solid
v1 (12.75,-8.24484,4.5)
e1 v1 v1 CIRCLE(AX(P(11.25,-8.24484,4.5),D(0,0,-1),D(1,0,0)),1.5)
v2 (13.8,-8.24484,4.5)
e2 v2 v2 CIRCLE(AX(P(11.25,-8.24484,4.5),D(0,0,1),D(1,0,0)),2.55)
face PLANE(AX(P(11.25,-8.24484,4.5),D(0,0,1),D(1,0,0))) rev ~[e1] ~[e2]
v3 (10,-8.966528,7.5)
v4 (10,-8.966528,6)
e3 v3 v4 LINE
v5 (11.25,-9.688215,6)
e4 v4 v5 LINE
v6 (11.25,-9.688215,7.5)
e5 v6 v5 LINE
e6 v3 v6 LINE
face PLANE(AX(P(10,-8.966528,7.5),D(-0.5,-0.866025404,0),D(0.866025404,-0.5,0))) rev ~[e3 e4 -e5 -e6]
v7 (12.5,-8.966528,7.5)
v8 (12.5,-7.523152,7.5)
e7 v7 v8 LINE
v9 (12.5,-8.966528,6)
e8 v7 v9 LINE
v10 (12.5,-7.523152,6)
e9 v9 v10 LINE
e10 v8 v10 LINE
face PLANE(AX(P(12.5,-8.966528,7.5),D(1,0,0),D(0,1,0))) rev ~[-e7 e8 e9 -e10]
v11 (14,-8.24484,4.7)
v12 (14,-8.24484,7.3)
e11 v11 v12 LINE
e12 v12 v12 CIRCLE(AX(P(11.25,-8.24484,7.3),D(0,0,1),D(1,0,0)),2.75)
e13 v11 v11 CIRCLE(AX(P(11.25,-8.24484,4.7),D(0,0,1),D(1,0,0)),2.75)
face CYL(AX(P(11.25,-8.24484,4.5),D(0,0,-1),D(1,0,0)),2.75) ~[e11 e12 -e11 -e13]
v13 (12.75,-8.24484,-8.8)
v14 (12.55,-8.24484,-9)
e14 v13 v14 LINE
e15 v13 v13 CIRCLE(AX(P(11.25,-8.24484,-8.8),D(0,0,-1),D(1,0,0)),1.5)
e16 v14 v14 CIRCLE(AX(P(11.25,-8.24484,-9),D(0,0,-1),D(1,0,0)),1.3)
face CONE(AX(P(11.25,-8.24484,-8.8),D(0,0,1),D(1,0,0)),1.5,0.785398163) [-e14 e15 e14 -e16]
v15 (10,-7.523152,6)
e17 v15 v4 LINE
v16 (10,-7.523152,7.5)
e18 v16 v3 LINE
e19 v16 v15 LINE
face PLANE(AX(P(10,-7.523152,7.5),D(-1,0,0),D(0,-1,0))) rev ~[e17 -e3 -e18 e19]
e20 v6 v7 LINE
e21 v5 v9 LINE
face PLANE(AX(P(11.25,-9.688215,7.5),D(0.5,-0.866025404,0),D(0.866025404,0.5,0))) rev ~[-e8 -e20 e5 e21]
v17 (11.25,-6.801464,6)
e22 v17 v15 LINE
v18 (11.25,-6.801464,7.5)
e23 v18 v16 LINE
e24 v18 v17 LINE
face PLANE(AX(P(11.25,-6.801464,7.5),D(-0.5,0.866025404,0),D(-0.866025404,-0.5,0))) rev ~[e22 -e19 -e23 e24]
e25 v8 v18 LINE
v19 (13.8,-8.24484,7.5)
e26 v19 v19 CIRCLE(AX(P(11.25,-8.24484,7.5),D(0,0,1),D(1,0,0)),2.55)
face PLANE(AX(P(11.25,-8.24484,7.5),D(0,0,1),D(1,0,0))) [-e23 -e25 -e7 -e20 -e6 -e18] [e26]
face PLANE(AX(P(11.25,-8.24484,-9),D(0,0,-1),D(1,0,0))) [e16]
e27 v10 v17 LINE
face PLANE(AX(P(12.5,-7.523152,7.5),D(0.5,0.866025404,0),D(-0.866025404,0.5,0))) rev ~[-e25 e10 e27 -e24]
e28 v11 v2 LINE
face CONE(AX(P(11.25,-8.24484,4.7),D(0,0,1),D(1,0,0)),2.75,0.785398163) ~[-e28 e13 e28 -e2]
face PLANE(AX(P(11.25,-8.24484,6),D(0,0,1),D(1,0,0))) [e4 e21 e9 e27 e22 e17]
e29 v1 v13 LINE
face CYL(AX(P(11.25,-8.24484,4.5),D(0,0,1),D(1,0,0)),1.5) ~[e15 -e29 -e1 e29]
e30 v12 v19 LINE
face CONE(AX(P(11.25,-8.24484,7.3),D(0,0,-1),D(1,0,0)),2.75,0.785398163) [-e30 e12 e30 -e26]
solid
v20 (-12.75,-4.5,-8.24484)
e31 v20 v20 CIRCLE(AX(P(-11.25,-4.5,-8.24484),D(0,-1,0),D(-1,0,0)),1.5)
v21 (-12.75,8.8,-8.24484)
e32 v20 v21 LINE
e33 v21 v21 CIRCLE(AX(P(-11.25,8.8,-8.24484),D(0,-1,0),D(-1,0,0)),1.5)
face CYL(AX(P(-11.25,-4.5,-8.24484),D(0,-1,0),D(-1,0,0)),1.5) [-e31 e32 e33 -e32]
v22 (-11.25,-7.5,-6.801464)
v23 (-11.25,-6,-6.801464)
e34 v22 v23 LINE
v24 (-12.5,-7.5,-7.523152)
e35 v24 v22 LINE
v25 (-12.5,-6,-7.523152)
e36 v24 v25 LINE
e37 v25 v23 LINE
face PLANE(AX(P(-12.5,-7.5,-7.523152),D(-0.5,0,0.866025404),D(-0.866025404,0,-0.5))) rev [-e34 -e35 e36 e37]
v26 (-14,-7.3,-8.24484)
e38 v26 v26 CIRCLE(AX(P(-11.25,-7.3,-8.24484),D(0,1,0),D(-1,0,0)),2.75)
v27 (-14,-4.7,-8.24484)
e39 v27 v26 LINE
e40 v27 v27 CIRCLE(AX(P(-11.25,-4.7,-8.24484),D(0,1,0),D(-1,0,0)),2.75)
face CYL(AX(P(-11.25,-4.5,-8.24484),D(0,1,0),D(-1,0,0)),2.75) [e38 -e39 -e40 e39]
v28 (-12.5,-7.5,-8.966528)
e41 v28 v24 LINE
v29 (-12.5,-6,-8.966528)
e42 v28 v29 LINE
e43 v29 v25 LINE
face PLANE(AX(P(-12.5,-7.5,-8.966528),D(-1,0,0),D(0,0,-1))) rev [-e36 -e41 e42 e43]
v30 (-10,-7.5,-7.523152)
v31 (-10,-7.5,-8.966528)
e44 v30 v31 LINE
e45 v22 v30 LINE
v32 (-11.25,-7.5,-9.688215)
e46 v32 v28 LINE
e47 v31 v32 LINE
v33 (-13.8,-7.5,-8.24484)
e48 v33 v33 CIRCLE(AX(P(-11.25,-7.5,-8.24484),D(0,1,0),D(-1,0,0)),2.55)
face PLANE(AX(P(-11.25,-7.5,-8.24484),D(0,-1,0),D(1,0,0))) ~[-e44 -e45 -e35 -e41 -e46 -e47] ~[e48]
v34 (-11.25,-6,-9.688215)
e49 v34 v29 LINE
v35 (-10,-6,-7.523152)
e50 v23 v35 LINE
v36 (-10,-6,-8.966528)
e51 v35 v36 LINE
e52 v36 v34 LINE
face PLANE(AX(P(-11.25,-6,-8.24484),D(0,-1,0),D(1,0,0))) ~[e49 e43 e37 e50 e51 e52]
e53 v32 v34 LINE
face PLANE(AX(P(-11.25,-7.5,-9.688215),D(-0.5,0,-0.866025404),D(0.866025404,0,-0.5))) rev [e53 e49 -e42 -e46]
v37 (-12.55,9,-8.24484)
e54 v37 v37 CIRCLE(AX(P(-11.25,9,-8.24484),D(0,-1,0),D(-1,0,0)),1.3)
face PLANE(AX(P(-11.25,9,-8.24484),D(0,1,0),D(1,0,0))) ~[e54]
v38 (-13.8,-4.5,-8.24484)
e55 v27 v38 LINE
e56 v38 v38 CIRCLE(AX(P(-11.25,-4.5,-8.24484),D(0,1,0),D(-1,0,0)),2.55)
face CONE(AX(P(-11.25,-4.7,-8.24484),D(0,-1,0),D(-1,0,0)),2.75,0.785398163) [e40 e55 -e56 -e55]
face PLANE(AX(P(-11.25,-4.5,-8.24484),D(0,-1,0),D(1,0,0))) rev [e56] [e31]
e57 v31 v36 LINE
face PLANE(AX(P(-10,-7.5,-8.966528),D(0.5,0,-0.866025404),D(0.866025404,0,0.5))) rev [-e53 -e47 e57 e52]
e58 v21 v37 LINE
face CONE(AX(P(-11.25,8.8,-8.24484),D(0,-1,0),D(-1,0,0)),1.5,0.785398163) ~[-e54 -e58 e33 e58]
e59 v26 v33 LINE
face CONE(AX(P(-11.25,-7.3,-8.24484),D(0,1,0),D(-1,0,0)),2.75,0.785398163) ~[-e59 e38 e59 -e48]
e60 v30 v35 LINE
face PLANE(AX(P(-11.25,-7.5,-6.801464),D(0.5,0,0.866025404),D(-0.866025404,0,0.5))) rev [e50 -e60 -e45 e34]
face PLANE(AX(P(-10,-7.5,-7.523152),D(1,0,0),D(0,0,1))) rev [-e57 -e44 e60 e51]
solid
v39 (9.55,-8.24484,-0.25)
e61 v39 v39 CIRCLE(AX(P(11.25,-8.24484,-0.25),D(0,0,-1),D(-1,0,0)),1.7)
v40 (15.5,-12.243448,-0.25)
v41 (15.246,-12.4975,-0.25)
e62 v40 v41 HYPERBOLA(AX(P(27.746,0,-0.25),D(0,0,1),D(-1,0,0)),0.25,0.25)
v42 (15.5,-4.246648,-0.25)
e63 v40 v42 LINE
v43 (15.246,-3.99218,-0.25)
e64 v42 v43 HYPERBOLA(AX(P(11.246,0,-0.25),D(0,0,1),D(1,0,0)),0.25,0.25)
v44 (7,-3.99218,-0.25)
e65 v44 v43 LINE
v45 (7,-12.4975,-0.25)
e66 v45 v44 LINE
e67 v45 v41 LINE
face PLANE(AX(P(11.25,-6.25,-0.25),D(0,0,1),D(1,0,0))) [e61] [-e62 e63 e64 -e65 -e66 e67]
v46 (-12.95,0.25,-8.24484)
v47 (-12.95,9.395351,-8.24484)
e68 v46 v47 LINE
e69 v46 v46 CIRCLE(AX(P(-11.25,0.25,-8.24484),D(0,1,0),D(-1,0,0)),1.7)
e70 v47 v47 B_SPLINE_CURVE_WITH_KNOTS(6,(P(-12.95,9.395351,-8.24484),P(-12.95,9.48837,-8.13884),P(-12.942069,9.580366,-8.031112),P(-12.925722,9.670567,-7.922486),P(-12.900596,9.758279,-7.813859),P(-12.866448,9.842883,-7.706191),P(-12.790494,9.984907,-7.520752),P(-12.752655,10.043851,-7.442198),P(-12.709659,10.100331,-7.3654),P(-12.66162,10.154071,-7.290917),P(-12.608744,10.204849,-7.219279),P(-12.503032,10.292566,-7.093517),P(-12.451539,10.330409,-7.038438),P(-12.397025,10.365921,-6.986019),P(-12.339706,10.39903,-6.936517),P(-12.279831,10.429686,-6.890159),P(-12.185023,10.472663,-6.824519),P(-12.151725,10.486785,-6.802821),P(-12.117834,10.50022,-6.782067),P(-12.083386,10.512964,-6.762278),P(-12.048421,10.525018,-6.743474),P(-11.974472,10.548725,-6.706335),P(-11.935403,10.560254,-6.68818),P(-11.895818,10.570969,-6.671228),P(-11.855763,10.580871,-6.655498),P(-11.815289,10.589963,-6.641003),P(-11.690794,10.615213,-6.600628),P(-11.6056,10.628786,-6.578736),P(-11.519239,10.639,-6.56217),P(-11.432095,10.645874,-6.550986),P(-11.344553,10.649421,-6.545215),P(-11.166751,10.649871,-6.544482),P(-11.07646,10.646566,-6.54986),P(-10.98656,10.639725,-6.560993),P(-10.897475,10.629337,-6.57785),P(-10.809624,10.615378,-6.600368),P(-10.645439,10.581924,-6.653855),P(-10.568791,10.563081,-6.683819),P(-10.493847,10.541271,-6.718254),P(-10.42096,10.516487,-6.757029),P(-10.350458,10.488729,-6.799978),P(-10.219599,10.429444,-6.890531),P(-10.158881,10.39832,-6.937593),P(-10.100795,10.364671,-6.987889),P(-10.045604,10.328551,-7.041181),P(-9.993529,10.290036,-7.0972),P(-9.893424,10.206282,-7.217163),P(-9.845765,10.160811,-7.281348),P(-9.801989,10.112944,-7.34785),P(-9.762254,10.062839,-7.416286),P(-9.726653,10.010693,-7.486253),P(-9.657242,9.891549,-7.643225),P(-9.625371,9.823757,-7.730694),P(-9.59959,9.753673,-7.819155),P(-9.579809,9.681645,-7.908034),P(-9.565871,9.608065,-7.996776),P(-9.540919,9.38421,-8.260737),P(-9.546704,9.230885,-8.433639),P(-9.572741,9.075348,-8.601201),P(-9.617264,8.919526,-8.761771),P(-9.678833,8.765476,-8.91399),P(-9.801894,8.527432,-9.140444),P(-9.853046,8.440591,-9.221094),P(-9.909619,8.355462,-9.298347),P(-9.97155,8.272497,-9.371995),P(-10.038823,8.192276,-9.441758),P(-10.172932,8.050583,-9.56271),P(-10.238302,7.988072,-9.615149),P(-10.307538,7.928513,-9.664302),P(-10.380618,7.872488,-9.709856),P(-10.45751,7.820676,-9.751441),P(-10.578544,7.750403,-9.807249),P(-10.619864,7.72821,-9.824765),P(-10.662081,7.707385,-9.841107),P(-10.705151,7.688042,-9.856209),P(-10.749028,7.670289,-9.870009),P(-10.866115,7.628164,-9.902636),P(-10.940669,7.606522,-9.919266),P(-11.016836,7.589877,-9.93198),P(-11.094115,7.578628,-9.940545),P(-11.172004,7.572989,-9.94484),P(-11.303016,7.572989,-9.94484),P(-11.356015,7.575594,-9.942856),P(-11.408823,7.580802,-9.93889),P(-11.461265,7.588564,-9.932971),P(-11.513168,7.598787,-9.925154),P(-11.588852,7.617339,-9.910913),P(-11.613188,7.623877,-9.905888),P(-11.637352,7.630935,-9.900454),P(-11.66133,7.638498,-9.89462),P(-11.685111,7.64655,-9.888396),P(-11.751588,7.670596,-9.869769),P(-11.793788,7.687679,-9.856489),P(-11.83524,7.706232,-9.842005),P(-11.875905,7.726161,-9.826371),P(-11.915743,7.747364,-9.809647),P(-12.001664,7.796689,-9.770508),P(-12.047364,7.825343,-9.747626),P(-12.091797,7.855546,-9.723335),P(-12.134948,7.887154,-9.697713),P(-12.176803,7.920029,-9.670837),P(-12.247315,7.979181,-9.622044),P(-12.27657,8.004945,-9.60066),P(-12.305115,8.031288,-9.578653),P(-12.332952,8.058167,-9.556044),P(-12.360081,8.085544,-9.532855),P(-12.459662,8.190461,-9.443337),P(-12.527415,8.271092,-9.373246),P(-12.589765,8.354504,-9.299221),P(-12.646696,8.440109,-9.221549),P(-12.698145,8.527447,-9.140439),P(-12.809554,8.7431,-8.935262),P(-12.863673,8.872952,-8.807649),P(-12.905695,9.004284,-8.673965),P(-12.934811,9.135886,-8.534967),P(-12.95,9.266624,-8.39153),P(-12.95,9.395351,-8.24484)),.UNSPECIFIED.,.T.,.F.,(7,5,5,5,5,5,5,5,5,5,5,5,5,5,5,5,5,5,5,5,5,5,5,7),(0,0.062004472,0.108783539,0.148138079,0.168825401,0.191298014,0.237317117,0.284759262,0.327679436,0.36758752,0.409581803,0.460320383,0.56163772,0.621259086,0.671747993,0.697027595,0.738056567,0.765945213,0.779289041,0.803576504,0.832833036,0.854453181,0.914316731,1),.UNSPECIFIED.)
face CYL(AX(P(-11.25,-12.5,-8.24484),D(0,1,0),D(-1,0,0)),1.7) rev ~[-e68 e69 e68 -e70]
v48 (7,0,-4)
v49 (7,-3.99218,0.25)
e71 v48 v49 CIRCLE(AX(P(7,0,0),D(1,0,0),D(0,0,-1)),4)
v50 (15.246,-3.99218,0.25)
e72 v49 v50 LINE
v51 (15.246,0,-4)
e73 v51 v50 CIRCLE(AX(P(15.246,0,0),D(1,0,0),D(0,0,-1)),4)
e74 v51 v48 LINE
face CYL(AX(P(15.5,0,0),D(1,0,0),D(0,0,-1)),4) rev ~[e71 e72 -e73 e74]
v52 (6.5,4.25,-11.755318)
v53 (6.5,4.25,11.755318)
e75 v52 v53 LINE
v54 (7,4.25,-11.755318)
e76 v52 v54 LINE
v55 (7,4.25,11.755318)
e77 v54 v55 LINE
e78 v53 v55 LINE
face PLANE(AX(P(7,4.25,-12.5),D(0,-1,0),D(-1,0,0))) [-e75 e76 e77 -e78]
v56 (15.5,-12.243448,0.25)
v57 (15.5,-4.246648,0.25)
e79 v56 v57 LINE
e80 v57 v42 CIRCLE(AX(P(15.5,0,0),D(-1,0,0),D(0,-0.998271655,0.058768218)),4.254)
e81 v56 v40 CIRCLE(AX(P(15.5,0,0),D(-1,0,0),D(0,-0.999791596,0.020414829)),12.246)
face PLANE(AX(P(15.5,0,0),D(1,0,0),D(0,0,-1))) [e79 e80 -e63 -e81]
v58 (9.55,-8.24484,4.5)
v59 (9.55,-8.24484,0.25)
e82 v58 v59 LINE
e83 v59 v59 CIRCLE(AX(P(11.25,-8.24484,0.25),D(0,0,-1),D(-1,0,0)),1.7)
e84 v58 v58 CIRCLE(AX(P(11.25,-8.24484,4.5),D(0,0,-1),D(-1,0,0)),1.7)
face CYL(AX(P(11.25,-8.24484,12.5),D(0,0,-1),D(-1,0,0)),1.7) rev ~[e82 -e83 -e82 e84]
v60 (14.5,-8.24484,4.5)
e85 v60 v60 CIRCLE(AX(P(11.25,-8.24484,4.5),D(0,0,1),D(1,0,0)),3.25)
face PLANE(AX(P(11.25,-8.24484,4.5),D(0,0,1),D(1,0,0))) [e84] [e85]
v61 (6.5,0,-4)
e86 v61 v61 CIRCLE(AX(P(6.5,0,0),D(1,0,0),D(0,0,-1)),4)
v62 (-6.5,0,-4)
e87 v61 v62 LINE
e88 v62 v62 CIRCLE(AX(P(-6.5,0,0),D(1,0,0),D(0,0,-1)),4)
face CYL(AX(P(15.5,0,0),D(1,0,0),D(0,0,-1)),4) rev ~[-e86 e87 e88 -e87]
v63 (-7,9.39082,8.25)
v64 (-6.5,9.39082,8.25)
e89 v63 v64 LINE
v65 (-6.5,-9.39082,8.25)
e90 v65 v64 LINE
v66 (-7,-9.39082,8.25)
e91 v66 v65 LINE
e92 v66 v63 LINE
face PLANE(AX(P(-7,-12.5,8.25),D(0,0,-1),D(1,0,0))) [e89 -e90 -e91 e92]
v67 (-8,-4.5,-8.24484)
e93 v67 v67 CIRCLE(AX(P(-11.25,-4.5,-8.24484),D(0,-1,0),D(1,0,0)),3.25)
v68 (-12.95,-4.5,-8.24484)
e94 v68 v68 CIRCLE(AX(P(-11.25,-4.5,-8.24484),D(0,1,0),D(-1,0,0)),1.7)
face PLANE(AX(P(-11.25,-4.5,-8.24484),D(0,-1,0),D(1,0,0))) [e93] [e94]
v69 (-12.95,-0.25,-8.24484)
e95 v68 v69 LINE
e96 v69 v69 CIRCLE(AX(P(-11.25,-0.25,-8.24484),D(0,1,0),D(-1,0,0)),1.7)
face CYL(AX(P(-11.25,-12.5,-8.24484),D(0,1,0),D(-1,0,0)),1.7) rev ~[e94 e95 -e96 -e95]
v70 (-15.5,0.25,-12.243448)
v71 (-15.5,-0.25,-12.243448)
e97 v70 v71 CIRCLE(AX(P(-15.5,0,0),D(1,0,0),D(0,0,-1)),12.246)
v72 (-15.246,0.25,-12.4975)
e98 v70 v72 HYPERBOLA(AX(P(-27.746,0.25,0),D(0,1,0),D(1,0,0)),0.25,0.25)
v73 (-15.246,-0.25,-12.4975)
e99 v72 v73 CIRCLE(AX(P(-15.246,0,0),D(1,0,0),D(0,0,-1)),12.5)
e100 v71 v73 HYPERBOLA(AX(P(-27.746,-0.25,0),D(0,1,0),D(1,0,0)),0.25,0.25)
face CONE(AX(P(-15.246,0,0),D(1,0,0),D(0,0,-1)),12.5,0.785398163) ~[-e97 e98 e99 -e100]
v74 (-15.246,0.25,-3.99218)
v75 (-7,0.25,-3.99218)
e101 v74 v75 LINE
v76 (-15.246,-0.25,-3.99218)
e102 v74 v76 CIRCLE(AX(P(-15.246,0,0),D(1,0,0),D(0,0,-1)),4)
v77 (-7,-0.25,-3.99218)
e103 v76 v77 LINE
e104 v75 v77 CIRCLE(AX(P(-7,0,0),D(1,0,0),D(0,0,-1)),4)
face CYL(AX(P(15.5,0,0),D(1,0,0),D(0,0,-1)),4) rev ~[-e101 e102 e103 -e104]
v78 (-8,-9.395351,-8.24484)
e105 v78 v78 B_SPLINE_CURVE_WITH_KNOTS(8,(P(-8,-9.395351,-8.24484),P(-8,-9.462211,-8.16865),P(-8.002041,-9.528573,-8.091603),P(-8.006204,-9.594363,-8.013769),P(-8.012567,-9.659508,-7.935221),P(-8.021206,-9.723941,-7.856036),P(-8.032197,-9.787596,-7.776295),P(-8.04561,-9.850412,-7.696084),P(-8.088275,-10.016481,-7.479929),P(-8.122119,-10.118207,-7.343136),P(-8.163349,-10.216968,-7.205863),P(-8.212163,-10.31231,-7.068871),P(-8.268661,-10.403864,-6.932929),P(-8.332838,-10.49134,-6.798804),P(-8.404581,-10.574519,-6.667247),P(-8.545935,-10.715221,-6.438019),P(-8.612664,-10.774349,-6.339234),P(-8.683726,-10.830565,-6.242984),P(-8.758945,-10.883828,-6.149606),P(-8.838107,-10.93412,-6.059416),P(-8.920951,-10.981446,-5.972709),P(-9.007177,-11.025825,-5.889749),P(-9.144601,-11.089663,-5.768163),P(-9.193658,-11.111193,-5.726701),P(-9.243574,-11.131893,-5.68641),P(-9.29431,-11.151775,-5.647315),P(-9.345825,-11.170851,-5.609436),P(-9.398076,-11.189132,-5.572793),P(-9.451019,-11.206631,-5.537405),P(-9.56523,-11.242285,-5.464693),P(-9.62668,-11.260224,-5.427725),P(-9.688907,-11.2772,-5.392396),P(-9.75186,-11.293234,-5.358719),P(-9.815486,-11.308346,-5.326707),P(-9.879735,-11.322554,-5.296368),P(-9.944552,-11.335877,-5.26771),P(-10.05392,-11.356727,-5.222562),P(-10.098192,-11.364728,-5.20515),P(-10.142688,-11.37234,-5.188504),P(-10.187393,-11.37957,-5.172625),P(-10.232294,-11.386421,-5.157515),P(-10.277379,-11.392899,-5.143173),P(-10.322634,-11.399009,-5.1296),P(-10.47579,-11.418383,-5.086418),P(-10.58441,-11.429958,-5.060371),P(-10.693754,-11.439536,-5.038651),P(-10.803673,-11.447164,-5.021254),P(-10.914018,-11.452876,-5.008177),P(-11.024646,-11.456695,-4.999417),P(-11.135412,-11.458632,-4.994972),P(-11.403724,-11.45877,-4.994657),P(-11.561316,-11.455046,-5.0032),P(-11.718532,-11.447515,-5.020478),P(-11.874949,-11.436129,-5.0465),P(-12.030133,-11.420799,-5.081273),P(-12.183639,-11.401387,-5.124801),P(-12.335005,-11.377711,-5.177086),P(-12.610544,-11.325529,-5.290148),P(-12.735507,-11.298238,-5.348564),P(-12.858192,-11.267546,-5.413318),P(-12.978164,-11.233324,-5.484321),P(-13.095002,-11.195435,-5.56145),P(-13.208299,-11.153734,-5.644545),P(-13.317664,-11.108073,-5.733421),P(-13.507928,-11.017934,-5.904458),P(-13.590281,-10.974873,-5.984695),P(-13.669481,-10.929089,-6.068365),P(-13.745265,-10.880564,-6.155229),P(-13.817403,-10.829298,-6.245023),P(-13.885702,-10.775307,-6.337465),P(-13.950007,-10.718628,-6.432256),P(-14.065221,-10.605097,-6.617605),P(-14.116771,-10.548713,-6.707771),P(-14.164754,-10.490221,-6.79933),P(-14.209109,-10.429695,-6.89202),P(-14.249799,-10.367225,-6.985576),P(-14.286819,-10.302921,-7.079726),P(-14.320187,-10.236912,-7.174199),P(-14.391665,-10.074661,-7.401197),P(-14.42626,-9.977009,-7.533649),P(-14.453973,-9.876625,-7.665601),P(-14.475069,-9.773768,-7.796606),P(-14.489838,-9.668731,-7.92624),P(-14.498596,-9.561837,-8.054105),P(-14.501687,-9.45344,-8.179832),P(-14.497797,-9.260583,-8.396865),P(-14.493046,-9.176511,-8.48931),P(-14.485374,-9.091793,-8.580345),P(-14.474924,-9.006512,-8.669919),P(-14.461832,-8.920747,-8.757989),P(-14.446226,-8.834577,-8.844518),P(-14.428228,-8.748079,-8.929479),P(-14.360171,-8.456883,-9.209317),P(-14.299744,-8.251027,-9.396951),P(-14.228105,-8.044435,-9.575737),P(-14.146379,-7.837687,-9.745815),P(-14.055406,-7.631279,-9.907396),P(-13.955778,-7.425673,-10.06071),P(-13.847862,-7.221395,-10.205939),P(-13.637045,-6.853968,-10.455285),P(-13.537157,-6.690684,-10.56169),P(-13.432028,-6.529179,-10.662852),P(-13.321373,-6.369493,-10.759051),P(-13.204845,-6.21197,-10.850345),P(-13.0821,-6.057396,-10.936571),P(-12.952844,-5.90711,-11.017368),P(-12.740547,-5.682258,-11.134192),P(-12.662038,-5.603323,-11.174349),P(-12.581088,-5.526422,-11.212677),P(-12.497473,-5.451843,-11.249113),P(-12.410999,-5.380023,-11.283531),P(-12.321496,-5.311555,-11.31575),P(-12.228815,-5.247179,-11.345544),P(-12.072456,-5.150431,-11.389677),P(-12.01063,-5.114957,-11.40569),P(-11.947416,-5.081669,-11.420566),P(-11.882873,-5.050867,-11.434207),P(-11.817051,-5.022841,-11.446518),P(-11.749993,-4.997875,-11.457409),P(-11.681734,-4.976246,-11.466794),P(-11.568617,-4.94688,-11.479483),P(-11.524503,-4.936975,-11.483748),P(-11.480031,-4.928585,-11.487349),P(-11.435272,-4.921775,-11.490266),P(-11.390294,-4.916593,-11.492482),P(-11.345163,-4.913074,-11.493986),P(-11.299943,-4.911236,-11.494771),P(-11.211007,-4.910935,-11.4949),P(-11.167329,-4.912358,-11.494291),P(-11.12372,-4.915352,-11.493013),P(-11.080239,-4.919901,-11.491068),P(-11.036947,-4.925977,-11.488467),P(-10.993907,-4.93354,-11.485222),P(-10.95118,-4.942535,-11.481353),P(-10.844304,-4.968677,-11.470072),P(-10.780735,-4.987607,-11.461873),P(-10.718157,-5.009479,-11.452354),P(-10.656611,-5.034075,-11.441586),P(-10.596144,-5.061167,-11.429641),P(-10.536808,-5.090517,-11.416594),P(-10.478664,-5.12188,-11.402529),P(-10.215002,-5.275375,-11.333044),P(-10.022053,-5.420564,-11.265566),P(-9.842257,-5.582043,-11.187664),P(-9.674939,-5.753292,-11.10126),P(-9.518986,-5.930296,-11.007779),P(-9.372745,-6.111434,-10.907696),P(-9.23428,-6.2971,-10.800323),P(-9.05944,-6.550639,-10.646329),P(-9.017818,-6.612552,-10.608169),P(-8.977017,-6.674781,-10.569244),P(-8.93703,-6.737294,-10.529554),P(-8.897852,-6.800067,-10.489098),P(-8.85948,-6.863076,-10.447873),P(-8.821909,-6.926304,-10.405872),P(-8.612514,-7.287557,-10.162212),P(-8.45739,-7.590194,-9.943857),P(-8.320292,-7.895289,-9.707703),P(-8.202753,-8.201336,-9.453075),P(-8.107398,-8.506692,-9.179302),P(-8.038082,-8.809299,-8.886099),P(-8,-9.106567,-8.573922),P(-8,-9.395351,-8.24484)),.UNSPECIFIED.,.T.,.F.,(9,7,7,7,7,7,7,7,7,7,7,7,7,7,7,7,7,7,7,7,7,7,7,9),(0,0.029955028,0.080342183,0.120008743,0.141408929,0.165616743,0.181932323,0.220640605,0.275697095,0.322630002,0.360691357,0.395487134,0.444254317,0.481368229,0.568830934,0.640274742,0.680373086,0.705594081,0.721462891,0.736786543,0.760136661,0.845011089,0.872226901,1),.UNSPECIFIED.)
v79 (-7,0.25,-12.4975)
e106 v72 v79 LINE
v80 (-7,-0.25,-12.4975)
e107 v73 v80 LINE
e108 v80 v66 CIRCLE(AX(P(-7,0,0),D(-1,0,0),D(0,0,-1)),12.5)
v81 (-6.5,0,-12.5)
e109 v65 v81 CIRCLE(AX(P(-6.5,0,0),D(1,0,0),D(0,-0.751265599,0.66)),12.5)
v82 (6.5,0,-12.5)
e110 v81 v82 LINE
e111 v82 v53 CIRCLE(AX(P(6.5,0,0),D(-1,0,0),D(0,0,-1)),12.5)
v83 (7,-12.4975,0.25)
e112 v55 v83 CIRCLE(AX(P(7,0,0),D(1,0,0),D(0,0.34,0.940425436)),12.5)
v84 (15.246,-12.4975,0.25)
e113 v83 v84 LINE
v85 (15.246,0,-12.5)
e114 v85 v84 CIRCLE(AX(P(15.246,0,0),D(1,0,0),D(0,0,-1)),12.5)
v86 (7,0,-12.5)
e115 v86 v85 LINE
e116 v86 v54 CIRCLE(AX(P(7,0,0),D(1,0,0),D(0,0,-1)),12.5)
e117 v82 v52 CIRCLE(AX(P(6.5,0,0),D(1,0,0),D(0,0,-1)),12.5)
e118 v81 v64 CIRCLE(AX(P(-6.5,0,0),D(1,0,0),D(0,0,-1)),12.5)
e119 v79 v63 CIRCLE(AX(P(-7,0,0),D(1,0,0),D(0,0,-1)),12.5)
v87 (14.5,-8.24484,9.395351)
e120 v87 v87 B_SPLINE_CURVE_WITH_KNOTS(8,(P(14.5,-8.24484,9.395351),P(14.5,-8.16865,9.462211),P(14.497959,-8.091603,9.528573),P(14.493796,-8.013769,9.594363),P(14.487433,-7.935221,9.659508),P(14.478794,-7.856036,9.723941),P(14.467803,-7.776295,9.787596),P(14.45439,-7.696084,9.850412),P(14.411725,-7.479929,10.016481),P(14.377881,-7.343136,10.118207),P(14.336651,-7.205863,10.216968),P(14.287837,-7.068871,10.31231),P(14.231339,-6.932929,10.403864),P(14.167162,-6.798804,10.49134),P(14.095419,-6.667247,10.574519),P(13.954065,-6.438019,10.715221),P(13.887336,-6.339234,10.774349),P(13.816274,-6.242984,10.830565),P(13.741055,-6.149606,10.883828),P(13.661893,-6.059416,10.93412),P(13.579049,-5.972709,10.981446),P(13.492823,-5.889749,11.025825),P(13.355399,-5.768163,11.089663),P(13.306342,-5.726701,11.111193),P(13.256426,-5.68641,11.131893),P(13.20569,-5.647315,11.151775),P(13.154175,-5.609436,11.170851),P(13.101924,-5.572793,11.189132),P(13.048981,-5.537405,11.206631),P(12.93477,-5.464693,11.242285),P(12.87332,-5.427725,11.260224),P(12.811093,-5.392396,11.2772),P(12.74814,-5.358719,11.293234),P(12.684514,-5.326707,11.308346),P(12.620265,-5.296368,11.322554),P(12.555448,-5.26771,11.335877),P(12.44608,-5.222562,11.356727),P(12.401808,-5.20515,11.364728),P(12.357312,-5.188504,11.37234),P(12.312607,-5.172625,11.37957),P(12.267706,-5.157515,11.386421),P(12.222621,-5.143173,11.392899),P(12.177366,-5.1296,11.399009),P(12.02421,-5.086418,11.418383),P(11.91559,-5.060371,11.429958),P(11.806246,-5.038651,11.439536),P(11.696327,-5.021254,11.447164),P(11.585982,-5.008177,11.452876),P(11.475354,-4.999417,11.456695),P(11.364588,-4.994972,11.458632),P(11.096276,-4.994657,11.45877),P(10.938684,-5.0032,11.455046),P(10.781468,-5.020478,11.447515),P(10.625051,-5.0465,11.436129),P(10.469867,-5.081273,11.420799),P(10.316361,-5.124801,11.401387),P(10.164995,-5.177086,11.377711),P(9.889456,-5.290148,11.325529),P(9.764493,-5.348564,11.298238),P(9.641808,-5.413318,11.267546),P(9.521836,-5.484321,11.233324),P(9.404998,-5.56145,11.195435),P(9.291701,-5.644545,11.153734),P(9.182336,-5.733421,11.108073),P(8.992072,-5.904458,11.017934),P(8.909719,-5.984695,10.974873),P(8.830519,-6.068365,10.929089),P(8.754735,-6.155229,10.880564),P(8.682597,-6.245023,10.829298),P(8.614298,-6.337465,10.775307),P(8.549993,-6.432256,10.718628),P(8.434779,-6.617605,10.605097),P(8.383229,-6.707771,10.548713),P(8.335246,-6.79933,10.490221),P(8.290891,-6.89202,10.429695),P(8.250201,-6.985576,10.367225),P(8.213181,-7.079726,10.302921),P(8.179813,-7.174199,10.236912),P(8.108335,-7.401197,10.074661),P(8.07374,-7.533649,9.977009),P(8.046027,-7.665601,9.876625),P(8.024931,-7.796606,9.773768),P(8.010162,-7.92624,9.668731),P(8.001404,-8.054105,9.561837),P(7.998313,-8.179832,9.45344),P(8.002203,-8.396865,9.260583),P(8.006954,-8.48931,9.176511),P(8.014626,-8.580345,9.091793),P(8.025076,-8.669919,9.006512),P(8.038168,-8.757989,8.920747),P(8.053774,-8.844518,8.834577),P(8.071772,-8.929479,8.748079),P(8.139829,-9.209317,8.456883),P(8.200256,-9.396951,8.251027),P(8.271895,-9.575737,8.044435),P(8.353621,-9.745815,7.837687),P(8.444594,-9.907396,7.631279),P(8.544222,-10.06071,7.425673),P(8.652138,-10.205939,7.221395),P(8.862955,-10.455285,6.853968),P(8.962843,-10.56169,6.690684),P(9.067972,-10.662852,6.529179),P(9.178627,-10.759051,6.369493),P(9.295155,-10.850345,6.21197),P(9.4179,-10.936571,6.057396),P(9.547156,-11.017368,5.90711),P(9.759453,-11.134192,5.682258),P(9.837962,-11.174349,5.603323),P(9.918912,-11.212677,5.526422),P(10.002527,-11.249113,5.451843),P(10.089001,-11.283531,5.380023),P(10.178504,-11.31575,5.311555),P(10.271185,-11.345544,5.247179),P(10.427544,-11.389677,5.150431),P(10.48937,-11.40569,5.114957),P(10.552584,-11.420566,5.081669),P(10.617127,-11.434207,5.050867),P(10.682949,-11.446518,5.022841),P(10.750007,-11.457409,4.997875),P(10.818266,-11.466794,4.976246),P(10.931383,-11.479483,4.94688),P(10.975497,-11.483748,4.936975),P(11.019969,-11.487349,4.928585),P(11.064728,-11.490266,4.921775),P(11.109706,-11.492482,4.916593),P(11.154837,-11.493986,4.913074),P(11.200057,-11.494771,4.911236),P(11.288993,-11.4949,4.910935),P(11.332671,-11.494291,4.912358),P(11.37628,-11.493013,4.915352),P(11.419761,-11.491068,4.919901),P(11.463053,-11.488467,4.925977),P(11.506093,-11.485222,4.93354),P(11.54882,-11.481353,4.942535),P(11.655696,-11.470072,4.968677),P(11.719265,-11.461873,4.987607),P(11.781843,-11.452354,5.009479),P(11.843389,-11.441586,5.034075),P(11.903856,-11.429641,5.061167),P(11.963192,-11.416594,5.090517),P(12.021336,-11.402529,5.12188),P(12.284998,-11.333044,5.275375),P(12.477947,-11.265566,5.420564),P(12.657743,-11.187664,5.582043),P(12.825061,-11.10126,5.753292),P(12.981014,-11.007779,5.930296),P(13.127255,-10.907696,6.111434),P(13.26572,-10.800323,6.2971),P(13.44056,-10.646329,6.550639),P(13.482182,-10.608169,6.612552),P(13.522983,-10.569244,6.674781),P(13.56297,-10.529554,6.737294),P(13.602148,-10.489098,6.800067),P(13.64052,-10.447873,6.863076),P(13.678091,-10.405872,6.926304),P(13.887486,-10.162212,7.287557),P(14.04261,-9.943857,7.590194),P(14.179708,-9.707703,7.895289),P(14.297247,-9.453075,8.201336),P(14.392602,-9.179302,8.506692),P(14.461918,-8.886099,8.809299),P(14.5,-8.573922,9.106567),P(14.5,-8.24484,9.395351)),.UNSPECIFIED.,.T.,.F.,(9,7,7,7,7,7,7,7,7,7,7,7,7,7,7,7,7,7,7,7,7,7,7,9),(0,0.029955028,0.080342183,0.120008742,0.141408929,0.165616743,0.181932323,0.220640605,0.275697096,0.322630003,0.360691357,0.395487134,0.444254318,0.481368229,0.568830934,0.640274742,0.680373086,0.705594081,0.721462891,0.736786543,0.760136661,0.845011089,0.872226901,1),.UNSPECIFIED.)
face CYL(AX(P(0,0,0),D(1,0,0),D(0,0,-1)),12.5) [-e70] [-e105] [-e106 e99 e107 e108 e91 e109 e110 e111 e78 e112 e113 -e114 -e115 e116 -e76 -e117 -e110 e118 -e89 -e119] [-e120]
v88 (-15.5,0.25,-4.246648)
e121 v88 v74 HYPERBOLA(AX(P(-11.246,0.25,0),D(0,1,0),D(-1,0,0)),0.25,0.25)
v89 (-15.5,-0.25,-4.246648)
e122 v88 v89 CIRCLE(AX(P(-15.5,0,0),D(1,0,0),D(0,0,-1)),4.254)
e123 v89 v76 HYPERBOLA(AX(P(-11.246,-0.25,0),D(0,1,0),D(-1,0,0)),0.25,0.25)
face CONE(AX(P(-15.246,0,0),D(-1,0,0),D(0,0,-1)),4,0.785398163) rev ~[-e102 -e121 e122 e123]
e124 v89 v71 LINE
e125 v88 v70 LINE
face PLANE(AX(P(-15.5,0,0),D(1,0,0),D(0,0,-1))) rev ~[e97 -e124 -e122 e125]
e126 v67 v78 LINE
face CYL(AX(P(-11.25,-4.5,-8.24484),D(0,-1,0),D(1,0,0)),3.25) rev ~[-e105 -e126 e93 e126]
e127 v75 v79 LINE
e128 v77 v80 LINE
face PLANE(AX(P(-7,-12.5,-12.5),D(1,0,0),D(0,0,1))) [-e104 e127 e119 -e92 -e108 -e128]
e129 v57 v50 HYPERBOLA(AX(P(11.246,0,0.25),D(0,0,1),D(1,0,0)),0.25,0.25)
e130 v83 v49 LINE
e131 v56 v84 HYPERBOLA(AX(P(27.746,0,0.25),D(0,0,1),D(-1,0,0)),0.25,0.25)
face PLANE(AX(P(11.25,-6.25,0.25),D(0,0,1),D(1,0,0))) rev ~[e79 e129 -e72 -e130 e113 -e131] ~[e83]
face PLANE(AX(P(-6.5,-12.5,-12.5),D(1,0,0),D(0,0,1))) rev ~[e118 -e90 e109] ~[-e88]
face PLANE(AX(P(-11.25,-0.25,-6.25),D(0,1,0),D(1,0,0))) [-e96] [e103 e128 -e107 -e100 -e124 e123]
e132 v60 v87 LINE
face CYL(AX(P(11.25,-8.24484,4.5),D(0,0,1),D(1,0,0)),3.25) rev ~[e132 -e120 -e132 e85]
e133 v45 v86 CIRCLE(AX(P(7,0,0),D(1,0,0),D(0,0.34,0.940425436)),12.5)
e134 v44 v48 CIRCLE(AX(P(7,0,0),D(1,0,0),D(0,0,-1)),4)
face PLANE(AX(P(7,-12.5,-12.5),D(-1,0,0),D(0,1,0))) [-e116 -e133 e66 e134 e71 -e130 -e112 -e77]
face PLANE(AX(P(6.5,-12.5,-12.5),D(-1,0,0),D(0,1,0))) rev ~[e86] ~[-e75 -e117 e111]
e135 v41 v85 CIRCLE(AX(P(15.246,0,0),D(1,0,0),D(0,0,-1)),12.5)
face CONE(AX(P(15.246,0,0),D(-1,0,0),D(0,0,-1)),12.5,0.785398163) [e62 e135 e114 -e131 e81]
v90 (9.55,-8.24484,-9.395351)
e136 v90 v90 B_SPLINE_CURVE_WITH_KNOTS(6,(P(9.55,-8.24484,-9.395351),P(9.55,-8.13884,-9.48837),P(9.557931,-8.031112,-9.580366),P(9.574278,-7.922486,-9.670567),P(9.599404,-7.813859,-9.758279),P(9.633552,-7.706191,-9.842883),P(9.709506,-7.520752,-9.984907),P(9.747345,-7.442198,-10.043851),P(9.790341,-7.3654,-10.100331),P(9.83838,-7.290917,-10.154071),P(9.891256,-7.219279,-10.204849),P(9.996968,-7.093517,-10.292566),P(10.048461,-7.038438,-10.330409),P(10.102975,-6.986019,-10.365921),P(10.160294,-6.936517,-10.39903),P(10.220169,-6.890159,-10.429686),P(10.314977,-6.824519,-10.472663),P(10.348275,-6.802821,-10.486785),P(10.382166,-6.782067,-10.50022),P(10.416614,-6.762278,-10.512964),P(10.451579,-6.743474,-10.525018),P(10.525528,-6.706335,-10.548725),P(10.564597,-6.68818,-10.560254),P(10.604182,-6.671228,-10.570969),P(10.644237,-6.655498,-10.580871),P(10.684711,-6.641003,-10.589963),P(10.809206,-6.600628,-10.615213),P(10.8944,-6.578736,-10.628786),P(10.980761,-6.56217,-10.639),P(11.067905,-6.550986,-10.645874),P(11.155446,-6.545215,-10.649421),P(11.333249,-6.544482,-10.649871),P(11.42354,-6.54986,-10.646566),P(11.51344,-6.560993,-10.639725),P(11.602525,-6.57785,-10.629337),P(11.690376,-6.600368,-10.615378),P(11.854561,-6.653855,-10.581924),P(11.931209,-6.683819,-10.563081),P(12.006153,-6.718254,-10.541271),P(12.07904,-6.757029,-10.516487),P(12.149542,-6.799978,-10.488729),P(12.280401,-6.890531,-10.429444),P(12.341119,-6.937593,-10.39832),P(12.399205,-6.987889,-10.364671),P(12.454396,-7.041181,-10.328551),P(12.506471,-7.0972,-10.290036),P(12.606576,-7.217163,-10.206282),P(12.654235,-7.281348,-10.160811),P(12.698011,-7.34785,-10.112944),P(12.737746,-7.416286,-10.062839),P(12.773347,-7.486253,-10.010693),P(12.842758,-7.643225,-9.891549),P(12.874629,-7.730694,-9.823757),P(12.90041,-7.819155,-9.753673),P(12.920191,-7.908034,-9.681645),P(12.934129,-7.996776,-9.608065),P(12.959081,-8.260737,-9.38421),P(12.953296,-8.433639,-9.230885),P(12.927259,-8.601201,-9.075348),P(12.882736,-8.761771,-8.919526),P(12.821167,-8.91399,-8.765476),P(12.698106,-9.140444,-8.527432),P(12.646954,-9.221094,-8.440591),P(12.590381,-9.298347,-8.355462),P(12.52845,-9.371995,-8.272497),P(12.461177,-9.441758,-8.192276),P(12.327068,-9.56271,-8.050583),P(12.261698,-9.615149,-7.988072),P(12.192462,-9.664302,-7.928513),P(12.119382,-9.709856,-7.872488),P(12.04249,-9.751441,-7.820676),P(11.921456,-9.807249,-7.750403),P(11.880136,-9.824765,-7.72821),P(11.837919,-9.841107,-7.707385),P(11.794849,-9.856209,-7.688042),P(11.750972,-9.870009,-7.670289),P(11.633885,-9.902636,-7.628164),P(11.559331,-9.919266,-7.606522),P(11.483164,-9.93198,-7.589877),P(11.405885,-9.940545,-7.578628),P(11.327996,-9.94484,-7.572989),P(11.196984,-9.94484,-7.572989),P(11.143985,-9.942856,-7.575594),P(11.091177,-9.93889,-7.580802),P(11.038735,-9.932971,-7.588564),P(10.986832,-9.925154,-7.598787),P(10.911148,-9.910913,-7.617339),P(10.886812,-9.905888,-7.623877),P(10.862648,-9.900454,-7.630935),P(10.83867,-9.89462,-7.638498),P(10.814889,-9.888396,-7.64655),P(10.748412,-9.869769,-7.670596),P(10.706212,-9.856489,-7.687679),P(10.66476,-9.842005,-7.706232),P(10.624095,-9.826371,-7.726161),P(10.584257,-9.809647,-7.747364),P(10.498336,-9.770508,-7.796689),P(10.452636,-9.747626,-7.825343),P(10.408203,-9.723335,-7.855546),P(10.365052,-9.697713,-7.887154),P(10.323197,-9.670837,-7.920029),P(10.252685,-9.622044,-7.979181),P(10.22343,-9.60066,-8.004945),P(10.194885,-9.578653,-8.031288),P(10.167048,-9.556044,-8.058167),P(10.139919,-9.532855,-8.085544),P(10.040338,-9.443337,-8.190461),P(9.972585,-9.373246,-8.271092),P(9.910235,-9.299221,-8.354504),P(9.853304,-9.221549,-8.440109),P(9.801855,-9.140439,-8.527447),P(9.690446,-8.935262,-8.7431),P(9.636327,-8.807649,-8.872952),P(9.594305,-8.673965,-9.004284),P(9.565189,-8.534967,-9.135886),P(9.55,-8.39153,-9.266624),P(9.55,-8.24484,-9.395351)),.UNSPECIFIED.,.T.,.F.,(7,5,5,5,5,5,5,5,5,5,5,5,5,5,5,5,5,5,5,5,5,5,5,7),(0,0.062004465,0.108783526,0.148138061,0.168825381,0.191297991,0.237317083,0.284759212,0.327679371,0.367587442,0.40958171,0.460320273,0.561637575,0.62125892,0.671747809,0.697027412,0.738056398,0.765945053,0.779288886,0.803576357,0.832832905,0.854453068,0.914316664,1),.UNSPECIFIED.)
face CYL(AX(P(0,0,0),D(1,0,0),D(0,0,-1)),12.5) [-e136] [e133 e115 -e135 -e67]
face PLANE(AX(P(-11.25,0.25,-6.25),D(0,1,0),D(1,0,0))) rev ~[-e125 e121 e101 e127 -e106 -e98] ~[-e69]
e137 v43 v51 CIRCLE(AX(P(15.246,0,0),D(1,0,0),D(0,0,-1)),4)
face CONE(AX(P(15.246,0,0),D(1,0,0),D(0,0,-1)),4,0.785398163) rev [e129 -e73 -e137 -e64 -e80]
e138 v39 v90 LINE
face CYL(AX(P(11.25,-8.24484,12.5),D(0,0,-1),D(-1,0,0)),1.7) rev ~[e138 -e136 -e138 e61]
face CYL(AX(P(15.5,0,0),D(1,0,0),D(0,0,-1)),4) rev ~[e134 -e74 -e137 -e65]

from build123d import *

# Parameters (mm, degrees)
SKETCH1_R                      = 12.5
BOSS_EXTRUDE1_DEPTH            = 15.5
SKETCH2_R                      = 4
CUT_EXTRUDE1_DEPTH             = 32
CHAMFER1_SIZE                  = 0.254
SKETCH4_W                      = 0.5
SKETCH4_H                      = 20.75
CUT_EXTRUDE2_DEPTH             = 26
SKETCH7_W                      = 0.5
SKETCH7_H                      = 16.75
CUT_EXTRUDE3_DEPTH             = 26
SKETCH8_W                      = 8.5
SKETCH8_H                      = 12.5
CUT_EXTRUDE5_DEPTH             = 0.25
SKETCH13_W                     = 8.5
SKETCH13_H                     = 12.5
CUT_EXTRUDE6_DEPTH             = 0.25
CBORE_FOR_M3_SHCS1_D           = 3.4
CBORE_FOR_M3_SHCS1_CBORE_D     = 6.5
CBORE_FOR_M3_SHCS1_CBORE_DEPTH = 8
CBORE_FOR_M3_SHCS2_D           = 3.4
CBORE_FOR_M3_SHCS2_CBORE_D     = 6.5
CBORE_FOR_M3_SHCS2_CBORE_DEPTH = 8
SKETCH16_R                     = 2.75
BOSS_EXTRUDE2_DEPTH            = 3
SKETCH17_R                     = 1.5
BOSS_EXTRUDE3_DEPTH            = 13.5
CHAMFER2_SIZE                  = 0.2
CUT_EXTRUDE7_DEPTH             = 1.5
CIRPATTERN1_COUNT              = 2
CIRPATTERN1_ANGLE              = 90


with BuildPart() as part:
    # Sketch1 → Boss-Extrude1 (new body, symmetric)
    with BuildSketch(Plane(origin=(0, 0, 0), x_dir=(0, 0, -1), z_dir=(1, 0, 0))):
        Circle(SKETCH1_R)
    extrude(amount=BOSS_EXTRUDE1_DEPTH, both=True)

    # Sketch2 → Cut-Extrude1 (cut, through all)
    with BuildSketch(Plane(origin=(15.5, 0, 0), x_dir=(0, 0, -1), z_dir=(1, 0, 0))):
        Circle(SKETCH2_R)
    extrude(amount=-CUT_EXTRUDE1_DEPTH, mode=Mode.SUBTRACT)

    # Chamfer1
    chamfer1_edges = [part.edges().sort_by_distance(p)[0] for p in [
        (-15.5, 0, 12.5),
        (15.5, 0, 12.5),
        (-15.5, 0, 4),
        (15.5, 0, 4),
    ]]
    chamfer(chamfer1_edges, length=CHAMFER1_SIZE)

    # Sketch4 → Cut-Extrude2 (cut, through all)
    with BuildSketch(Plane.XZ.offset(12.5)):
        with Locations((-6.75, -2.125)):
            Rectangle(SKETCH4_W, SKETCH4_H)
    extrude(amount=-CUT_EXTRUDE2_DEPTH, mode=Mode.SUBTRACT)

    # Sketch7 → Cut-Extrude3 (cut, through all)
    with BuildSketch(Plane(origin=(0, 0, -12.5), x_dir=(-1, 0, 0), z_dir=(0, 0, -1))):
        with Locations((-6.75, -4.125)):
            Rectangle(SKETCH7_W, SKETCH7_H)
    extrude(amount=-CUT_EXTRUDE3_DEPTH, mode=Mode.SUBTRACT)

    # Sketch8 → Cut-Extrude5 (cut, symmetric)
    with BuildSketch(Plane(origin=(0, 0, 0), x_dir=(1, 0, 0), z_dir=(0, 1, 0))):
        with Locations((-11.25, 6.25)):
            Rectangle(SKETCH8_W, SKETCH8_H)
    extrude(amount=CUT_EXTRUDE5_DEPTH, both=True, mode=Mode.SUBTRACT)

    # Sketch13 → Cut-Extrude6 (cut, symmetric)
    with BuildSketch(Plane.XY):
        with Locations((11.25, -6.25)):
            Rectangle(SKETCH13_W, SKETCH13_H)
    extrude(amount=CUT_EXTRUDE6_DEPTH, both=True, mode=Mode.SUBTRACT)

    # CBORE for M3 SHCS1 (through all)
    with Locations(Plane.XZ.offset(12.5)):
        with Locations((-11.25, -8.244839803)):
            CounterBoreHole(CBORE_FOR_M3_SHCS1_D / 2, CBORE_FOR_M3_SHCS1_CBORE_D / 2, CBORE_FOR_M3_SHCS1_CBORE_DEPTH)

    # CBORE for M3 SHCS2 (through all)
    with Locations(Plane.XY.offset(12.5)):
        with Locations((11.25, -8.244839803)):
            CounterBoreHole(CBORE_FOR_M3_SHCS2_D / 2, CBORE_FOR_M3_SHCS2_CBORE_D / 2, CBORE_FOR_M3_SHCS2_CBORE_DEPTH)


with BuildPart() as body_2:
    # Sketch16 → Boss-Extrude2 (new body)
    with BuildSketch(Plane.XY.offset(4.5)):
        with Locations((11.25, -8.244839803)):
            Circle(SKETCH16_R)
    extrude(amount=BOSS_EXTRUDE2_DEPTH)

    # Sketch17 → Boss-Extrude3 (add)
    with BuildSketch(Plane(origin=(0, 0, 4.5), x_dir=(-1, 0, 0), z_dir=(0, 0, -1))):
        with Locations(Location((-11.25, -8.244839803, 0), (0, 0, 180))):  # turned: the seam where the file's is
            Circle(SKETCH17_R)
    extrude(amount=BOSS_EXTRUDE3_DEPTH)

    # Chamfer2
    chamfer2_edges = [body_2.edges().sort_by_distance(p)[0] for p in [
        (8.5, -8.244839803, 4.5),
        (8.5, -8.244839803, 7.5),
        (9.75, -8.244839803, -9),
    ]]
    chamfer(chamfer2_edges, length=CHAMFER2_SIZE)

    # Sketch18 → Cut-Extrude7 (cut)
    with BuildSketch(Plane.XY.offset(7.5)):
        Polygon((11.25, -9.688215476), (12.5, -8.966527639), (12.5, -7.523151966), (11.25, -6.80146413), (10, -7.523151966), (10, -8.966527639), align=None)
    extrude(amount=-CUT_EXTRUDE7_DEPTH, mode=Mode.SUBTRACT)


with BuildPart() as body_3:
    # Mirror1: mirrored copy
    add(body_2.part.mirror(Plane(origin=(0, 0, 0), x_dir=(0, 0, 1), z_dir=(1, 0, 0))))


with BuildPart() as cirpattern1_1:
    # CirPattern1: pattern copy
    add(body_3.part.rotate(Axis((0, 0, 0), (1, 0, 0)), 1 * CIRPATTERN1_ANGLE / (CIRPATTERN1_COUNT - 1)))


solid = Compound([part.part, body_2.part, cirpattern1_1.part])
